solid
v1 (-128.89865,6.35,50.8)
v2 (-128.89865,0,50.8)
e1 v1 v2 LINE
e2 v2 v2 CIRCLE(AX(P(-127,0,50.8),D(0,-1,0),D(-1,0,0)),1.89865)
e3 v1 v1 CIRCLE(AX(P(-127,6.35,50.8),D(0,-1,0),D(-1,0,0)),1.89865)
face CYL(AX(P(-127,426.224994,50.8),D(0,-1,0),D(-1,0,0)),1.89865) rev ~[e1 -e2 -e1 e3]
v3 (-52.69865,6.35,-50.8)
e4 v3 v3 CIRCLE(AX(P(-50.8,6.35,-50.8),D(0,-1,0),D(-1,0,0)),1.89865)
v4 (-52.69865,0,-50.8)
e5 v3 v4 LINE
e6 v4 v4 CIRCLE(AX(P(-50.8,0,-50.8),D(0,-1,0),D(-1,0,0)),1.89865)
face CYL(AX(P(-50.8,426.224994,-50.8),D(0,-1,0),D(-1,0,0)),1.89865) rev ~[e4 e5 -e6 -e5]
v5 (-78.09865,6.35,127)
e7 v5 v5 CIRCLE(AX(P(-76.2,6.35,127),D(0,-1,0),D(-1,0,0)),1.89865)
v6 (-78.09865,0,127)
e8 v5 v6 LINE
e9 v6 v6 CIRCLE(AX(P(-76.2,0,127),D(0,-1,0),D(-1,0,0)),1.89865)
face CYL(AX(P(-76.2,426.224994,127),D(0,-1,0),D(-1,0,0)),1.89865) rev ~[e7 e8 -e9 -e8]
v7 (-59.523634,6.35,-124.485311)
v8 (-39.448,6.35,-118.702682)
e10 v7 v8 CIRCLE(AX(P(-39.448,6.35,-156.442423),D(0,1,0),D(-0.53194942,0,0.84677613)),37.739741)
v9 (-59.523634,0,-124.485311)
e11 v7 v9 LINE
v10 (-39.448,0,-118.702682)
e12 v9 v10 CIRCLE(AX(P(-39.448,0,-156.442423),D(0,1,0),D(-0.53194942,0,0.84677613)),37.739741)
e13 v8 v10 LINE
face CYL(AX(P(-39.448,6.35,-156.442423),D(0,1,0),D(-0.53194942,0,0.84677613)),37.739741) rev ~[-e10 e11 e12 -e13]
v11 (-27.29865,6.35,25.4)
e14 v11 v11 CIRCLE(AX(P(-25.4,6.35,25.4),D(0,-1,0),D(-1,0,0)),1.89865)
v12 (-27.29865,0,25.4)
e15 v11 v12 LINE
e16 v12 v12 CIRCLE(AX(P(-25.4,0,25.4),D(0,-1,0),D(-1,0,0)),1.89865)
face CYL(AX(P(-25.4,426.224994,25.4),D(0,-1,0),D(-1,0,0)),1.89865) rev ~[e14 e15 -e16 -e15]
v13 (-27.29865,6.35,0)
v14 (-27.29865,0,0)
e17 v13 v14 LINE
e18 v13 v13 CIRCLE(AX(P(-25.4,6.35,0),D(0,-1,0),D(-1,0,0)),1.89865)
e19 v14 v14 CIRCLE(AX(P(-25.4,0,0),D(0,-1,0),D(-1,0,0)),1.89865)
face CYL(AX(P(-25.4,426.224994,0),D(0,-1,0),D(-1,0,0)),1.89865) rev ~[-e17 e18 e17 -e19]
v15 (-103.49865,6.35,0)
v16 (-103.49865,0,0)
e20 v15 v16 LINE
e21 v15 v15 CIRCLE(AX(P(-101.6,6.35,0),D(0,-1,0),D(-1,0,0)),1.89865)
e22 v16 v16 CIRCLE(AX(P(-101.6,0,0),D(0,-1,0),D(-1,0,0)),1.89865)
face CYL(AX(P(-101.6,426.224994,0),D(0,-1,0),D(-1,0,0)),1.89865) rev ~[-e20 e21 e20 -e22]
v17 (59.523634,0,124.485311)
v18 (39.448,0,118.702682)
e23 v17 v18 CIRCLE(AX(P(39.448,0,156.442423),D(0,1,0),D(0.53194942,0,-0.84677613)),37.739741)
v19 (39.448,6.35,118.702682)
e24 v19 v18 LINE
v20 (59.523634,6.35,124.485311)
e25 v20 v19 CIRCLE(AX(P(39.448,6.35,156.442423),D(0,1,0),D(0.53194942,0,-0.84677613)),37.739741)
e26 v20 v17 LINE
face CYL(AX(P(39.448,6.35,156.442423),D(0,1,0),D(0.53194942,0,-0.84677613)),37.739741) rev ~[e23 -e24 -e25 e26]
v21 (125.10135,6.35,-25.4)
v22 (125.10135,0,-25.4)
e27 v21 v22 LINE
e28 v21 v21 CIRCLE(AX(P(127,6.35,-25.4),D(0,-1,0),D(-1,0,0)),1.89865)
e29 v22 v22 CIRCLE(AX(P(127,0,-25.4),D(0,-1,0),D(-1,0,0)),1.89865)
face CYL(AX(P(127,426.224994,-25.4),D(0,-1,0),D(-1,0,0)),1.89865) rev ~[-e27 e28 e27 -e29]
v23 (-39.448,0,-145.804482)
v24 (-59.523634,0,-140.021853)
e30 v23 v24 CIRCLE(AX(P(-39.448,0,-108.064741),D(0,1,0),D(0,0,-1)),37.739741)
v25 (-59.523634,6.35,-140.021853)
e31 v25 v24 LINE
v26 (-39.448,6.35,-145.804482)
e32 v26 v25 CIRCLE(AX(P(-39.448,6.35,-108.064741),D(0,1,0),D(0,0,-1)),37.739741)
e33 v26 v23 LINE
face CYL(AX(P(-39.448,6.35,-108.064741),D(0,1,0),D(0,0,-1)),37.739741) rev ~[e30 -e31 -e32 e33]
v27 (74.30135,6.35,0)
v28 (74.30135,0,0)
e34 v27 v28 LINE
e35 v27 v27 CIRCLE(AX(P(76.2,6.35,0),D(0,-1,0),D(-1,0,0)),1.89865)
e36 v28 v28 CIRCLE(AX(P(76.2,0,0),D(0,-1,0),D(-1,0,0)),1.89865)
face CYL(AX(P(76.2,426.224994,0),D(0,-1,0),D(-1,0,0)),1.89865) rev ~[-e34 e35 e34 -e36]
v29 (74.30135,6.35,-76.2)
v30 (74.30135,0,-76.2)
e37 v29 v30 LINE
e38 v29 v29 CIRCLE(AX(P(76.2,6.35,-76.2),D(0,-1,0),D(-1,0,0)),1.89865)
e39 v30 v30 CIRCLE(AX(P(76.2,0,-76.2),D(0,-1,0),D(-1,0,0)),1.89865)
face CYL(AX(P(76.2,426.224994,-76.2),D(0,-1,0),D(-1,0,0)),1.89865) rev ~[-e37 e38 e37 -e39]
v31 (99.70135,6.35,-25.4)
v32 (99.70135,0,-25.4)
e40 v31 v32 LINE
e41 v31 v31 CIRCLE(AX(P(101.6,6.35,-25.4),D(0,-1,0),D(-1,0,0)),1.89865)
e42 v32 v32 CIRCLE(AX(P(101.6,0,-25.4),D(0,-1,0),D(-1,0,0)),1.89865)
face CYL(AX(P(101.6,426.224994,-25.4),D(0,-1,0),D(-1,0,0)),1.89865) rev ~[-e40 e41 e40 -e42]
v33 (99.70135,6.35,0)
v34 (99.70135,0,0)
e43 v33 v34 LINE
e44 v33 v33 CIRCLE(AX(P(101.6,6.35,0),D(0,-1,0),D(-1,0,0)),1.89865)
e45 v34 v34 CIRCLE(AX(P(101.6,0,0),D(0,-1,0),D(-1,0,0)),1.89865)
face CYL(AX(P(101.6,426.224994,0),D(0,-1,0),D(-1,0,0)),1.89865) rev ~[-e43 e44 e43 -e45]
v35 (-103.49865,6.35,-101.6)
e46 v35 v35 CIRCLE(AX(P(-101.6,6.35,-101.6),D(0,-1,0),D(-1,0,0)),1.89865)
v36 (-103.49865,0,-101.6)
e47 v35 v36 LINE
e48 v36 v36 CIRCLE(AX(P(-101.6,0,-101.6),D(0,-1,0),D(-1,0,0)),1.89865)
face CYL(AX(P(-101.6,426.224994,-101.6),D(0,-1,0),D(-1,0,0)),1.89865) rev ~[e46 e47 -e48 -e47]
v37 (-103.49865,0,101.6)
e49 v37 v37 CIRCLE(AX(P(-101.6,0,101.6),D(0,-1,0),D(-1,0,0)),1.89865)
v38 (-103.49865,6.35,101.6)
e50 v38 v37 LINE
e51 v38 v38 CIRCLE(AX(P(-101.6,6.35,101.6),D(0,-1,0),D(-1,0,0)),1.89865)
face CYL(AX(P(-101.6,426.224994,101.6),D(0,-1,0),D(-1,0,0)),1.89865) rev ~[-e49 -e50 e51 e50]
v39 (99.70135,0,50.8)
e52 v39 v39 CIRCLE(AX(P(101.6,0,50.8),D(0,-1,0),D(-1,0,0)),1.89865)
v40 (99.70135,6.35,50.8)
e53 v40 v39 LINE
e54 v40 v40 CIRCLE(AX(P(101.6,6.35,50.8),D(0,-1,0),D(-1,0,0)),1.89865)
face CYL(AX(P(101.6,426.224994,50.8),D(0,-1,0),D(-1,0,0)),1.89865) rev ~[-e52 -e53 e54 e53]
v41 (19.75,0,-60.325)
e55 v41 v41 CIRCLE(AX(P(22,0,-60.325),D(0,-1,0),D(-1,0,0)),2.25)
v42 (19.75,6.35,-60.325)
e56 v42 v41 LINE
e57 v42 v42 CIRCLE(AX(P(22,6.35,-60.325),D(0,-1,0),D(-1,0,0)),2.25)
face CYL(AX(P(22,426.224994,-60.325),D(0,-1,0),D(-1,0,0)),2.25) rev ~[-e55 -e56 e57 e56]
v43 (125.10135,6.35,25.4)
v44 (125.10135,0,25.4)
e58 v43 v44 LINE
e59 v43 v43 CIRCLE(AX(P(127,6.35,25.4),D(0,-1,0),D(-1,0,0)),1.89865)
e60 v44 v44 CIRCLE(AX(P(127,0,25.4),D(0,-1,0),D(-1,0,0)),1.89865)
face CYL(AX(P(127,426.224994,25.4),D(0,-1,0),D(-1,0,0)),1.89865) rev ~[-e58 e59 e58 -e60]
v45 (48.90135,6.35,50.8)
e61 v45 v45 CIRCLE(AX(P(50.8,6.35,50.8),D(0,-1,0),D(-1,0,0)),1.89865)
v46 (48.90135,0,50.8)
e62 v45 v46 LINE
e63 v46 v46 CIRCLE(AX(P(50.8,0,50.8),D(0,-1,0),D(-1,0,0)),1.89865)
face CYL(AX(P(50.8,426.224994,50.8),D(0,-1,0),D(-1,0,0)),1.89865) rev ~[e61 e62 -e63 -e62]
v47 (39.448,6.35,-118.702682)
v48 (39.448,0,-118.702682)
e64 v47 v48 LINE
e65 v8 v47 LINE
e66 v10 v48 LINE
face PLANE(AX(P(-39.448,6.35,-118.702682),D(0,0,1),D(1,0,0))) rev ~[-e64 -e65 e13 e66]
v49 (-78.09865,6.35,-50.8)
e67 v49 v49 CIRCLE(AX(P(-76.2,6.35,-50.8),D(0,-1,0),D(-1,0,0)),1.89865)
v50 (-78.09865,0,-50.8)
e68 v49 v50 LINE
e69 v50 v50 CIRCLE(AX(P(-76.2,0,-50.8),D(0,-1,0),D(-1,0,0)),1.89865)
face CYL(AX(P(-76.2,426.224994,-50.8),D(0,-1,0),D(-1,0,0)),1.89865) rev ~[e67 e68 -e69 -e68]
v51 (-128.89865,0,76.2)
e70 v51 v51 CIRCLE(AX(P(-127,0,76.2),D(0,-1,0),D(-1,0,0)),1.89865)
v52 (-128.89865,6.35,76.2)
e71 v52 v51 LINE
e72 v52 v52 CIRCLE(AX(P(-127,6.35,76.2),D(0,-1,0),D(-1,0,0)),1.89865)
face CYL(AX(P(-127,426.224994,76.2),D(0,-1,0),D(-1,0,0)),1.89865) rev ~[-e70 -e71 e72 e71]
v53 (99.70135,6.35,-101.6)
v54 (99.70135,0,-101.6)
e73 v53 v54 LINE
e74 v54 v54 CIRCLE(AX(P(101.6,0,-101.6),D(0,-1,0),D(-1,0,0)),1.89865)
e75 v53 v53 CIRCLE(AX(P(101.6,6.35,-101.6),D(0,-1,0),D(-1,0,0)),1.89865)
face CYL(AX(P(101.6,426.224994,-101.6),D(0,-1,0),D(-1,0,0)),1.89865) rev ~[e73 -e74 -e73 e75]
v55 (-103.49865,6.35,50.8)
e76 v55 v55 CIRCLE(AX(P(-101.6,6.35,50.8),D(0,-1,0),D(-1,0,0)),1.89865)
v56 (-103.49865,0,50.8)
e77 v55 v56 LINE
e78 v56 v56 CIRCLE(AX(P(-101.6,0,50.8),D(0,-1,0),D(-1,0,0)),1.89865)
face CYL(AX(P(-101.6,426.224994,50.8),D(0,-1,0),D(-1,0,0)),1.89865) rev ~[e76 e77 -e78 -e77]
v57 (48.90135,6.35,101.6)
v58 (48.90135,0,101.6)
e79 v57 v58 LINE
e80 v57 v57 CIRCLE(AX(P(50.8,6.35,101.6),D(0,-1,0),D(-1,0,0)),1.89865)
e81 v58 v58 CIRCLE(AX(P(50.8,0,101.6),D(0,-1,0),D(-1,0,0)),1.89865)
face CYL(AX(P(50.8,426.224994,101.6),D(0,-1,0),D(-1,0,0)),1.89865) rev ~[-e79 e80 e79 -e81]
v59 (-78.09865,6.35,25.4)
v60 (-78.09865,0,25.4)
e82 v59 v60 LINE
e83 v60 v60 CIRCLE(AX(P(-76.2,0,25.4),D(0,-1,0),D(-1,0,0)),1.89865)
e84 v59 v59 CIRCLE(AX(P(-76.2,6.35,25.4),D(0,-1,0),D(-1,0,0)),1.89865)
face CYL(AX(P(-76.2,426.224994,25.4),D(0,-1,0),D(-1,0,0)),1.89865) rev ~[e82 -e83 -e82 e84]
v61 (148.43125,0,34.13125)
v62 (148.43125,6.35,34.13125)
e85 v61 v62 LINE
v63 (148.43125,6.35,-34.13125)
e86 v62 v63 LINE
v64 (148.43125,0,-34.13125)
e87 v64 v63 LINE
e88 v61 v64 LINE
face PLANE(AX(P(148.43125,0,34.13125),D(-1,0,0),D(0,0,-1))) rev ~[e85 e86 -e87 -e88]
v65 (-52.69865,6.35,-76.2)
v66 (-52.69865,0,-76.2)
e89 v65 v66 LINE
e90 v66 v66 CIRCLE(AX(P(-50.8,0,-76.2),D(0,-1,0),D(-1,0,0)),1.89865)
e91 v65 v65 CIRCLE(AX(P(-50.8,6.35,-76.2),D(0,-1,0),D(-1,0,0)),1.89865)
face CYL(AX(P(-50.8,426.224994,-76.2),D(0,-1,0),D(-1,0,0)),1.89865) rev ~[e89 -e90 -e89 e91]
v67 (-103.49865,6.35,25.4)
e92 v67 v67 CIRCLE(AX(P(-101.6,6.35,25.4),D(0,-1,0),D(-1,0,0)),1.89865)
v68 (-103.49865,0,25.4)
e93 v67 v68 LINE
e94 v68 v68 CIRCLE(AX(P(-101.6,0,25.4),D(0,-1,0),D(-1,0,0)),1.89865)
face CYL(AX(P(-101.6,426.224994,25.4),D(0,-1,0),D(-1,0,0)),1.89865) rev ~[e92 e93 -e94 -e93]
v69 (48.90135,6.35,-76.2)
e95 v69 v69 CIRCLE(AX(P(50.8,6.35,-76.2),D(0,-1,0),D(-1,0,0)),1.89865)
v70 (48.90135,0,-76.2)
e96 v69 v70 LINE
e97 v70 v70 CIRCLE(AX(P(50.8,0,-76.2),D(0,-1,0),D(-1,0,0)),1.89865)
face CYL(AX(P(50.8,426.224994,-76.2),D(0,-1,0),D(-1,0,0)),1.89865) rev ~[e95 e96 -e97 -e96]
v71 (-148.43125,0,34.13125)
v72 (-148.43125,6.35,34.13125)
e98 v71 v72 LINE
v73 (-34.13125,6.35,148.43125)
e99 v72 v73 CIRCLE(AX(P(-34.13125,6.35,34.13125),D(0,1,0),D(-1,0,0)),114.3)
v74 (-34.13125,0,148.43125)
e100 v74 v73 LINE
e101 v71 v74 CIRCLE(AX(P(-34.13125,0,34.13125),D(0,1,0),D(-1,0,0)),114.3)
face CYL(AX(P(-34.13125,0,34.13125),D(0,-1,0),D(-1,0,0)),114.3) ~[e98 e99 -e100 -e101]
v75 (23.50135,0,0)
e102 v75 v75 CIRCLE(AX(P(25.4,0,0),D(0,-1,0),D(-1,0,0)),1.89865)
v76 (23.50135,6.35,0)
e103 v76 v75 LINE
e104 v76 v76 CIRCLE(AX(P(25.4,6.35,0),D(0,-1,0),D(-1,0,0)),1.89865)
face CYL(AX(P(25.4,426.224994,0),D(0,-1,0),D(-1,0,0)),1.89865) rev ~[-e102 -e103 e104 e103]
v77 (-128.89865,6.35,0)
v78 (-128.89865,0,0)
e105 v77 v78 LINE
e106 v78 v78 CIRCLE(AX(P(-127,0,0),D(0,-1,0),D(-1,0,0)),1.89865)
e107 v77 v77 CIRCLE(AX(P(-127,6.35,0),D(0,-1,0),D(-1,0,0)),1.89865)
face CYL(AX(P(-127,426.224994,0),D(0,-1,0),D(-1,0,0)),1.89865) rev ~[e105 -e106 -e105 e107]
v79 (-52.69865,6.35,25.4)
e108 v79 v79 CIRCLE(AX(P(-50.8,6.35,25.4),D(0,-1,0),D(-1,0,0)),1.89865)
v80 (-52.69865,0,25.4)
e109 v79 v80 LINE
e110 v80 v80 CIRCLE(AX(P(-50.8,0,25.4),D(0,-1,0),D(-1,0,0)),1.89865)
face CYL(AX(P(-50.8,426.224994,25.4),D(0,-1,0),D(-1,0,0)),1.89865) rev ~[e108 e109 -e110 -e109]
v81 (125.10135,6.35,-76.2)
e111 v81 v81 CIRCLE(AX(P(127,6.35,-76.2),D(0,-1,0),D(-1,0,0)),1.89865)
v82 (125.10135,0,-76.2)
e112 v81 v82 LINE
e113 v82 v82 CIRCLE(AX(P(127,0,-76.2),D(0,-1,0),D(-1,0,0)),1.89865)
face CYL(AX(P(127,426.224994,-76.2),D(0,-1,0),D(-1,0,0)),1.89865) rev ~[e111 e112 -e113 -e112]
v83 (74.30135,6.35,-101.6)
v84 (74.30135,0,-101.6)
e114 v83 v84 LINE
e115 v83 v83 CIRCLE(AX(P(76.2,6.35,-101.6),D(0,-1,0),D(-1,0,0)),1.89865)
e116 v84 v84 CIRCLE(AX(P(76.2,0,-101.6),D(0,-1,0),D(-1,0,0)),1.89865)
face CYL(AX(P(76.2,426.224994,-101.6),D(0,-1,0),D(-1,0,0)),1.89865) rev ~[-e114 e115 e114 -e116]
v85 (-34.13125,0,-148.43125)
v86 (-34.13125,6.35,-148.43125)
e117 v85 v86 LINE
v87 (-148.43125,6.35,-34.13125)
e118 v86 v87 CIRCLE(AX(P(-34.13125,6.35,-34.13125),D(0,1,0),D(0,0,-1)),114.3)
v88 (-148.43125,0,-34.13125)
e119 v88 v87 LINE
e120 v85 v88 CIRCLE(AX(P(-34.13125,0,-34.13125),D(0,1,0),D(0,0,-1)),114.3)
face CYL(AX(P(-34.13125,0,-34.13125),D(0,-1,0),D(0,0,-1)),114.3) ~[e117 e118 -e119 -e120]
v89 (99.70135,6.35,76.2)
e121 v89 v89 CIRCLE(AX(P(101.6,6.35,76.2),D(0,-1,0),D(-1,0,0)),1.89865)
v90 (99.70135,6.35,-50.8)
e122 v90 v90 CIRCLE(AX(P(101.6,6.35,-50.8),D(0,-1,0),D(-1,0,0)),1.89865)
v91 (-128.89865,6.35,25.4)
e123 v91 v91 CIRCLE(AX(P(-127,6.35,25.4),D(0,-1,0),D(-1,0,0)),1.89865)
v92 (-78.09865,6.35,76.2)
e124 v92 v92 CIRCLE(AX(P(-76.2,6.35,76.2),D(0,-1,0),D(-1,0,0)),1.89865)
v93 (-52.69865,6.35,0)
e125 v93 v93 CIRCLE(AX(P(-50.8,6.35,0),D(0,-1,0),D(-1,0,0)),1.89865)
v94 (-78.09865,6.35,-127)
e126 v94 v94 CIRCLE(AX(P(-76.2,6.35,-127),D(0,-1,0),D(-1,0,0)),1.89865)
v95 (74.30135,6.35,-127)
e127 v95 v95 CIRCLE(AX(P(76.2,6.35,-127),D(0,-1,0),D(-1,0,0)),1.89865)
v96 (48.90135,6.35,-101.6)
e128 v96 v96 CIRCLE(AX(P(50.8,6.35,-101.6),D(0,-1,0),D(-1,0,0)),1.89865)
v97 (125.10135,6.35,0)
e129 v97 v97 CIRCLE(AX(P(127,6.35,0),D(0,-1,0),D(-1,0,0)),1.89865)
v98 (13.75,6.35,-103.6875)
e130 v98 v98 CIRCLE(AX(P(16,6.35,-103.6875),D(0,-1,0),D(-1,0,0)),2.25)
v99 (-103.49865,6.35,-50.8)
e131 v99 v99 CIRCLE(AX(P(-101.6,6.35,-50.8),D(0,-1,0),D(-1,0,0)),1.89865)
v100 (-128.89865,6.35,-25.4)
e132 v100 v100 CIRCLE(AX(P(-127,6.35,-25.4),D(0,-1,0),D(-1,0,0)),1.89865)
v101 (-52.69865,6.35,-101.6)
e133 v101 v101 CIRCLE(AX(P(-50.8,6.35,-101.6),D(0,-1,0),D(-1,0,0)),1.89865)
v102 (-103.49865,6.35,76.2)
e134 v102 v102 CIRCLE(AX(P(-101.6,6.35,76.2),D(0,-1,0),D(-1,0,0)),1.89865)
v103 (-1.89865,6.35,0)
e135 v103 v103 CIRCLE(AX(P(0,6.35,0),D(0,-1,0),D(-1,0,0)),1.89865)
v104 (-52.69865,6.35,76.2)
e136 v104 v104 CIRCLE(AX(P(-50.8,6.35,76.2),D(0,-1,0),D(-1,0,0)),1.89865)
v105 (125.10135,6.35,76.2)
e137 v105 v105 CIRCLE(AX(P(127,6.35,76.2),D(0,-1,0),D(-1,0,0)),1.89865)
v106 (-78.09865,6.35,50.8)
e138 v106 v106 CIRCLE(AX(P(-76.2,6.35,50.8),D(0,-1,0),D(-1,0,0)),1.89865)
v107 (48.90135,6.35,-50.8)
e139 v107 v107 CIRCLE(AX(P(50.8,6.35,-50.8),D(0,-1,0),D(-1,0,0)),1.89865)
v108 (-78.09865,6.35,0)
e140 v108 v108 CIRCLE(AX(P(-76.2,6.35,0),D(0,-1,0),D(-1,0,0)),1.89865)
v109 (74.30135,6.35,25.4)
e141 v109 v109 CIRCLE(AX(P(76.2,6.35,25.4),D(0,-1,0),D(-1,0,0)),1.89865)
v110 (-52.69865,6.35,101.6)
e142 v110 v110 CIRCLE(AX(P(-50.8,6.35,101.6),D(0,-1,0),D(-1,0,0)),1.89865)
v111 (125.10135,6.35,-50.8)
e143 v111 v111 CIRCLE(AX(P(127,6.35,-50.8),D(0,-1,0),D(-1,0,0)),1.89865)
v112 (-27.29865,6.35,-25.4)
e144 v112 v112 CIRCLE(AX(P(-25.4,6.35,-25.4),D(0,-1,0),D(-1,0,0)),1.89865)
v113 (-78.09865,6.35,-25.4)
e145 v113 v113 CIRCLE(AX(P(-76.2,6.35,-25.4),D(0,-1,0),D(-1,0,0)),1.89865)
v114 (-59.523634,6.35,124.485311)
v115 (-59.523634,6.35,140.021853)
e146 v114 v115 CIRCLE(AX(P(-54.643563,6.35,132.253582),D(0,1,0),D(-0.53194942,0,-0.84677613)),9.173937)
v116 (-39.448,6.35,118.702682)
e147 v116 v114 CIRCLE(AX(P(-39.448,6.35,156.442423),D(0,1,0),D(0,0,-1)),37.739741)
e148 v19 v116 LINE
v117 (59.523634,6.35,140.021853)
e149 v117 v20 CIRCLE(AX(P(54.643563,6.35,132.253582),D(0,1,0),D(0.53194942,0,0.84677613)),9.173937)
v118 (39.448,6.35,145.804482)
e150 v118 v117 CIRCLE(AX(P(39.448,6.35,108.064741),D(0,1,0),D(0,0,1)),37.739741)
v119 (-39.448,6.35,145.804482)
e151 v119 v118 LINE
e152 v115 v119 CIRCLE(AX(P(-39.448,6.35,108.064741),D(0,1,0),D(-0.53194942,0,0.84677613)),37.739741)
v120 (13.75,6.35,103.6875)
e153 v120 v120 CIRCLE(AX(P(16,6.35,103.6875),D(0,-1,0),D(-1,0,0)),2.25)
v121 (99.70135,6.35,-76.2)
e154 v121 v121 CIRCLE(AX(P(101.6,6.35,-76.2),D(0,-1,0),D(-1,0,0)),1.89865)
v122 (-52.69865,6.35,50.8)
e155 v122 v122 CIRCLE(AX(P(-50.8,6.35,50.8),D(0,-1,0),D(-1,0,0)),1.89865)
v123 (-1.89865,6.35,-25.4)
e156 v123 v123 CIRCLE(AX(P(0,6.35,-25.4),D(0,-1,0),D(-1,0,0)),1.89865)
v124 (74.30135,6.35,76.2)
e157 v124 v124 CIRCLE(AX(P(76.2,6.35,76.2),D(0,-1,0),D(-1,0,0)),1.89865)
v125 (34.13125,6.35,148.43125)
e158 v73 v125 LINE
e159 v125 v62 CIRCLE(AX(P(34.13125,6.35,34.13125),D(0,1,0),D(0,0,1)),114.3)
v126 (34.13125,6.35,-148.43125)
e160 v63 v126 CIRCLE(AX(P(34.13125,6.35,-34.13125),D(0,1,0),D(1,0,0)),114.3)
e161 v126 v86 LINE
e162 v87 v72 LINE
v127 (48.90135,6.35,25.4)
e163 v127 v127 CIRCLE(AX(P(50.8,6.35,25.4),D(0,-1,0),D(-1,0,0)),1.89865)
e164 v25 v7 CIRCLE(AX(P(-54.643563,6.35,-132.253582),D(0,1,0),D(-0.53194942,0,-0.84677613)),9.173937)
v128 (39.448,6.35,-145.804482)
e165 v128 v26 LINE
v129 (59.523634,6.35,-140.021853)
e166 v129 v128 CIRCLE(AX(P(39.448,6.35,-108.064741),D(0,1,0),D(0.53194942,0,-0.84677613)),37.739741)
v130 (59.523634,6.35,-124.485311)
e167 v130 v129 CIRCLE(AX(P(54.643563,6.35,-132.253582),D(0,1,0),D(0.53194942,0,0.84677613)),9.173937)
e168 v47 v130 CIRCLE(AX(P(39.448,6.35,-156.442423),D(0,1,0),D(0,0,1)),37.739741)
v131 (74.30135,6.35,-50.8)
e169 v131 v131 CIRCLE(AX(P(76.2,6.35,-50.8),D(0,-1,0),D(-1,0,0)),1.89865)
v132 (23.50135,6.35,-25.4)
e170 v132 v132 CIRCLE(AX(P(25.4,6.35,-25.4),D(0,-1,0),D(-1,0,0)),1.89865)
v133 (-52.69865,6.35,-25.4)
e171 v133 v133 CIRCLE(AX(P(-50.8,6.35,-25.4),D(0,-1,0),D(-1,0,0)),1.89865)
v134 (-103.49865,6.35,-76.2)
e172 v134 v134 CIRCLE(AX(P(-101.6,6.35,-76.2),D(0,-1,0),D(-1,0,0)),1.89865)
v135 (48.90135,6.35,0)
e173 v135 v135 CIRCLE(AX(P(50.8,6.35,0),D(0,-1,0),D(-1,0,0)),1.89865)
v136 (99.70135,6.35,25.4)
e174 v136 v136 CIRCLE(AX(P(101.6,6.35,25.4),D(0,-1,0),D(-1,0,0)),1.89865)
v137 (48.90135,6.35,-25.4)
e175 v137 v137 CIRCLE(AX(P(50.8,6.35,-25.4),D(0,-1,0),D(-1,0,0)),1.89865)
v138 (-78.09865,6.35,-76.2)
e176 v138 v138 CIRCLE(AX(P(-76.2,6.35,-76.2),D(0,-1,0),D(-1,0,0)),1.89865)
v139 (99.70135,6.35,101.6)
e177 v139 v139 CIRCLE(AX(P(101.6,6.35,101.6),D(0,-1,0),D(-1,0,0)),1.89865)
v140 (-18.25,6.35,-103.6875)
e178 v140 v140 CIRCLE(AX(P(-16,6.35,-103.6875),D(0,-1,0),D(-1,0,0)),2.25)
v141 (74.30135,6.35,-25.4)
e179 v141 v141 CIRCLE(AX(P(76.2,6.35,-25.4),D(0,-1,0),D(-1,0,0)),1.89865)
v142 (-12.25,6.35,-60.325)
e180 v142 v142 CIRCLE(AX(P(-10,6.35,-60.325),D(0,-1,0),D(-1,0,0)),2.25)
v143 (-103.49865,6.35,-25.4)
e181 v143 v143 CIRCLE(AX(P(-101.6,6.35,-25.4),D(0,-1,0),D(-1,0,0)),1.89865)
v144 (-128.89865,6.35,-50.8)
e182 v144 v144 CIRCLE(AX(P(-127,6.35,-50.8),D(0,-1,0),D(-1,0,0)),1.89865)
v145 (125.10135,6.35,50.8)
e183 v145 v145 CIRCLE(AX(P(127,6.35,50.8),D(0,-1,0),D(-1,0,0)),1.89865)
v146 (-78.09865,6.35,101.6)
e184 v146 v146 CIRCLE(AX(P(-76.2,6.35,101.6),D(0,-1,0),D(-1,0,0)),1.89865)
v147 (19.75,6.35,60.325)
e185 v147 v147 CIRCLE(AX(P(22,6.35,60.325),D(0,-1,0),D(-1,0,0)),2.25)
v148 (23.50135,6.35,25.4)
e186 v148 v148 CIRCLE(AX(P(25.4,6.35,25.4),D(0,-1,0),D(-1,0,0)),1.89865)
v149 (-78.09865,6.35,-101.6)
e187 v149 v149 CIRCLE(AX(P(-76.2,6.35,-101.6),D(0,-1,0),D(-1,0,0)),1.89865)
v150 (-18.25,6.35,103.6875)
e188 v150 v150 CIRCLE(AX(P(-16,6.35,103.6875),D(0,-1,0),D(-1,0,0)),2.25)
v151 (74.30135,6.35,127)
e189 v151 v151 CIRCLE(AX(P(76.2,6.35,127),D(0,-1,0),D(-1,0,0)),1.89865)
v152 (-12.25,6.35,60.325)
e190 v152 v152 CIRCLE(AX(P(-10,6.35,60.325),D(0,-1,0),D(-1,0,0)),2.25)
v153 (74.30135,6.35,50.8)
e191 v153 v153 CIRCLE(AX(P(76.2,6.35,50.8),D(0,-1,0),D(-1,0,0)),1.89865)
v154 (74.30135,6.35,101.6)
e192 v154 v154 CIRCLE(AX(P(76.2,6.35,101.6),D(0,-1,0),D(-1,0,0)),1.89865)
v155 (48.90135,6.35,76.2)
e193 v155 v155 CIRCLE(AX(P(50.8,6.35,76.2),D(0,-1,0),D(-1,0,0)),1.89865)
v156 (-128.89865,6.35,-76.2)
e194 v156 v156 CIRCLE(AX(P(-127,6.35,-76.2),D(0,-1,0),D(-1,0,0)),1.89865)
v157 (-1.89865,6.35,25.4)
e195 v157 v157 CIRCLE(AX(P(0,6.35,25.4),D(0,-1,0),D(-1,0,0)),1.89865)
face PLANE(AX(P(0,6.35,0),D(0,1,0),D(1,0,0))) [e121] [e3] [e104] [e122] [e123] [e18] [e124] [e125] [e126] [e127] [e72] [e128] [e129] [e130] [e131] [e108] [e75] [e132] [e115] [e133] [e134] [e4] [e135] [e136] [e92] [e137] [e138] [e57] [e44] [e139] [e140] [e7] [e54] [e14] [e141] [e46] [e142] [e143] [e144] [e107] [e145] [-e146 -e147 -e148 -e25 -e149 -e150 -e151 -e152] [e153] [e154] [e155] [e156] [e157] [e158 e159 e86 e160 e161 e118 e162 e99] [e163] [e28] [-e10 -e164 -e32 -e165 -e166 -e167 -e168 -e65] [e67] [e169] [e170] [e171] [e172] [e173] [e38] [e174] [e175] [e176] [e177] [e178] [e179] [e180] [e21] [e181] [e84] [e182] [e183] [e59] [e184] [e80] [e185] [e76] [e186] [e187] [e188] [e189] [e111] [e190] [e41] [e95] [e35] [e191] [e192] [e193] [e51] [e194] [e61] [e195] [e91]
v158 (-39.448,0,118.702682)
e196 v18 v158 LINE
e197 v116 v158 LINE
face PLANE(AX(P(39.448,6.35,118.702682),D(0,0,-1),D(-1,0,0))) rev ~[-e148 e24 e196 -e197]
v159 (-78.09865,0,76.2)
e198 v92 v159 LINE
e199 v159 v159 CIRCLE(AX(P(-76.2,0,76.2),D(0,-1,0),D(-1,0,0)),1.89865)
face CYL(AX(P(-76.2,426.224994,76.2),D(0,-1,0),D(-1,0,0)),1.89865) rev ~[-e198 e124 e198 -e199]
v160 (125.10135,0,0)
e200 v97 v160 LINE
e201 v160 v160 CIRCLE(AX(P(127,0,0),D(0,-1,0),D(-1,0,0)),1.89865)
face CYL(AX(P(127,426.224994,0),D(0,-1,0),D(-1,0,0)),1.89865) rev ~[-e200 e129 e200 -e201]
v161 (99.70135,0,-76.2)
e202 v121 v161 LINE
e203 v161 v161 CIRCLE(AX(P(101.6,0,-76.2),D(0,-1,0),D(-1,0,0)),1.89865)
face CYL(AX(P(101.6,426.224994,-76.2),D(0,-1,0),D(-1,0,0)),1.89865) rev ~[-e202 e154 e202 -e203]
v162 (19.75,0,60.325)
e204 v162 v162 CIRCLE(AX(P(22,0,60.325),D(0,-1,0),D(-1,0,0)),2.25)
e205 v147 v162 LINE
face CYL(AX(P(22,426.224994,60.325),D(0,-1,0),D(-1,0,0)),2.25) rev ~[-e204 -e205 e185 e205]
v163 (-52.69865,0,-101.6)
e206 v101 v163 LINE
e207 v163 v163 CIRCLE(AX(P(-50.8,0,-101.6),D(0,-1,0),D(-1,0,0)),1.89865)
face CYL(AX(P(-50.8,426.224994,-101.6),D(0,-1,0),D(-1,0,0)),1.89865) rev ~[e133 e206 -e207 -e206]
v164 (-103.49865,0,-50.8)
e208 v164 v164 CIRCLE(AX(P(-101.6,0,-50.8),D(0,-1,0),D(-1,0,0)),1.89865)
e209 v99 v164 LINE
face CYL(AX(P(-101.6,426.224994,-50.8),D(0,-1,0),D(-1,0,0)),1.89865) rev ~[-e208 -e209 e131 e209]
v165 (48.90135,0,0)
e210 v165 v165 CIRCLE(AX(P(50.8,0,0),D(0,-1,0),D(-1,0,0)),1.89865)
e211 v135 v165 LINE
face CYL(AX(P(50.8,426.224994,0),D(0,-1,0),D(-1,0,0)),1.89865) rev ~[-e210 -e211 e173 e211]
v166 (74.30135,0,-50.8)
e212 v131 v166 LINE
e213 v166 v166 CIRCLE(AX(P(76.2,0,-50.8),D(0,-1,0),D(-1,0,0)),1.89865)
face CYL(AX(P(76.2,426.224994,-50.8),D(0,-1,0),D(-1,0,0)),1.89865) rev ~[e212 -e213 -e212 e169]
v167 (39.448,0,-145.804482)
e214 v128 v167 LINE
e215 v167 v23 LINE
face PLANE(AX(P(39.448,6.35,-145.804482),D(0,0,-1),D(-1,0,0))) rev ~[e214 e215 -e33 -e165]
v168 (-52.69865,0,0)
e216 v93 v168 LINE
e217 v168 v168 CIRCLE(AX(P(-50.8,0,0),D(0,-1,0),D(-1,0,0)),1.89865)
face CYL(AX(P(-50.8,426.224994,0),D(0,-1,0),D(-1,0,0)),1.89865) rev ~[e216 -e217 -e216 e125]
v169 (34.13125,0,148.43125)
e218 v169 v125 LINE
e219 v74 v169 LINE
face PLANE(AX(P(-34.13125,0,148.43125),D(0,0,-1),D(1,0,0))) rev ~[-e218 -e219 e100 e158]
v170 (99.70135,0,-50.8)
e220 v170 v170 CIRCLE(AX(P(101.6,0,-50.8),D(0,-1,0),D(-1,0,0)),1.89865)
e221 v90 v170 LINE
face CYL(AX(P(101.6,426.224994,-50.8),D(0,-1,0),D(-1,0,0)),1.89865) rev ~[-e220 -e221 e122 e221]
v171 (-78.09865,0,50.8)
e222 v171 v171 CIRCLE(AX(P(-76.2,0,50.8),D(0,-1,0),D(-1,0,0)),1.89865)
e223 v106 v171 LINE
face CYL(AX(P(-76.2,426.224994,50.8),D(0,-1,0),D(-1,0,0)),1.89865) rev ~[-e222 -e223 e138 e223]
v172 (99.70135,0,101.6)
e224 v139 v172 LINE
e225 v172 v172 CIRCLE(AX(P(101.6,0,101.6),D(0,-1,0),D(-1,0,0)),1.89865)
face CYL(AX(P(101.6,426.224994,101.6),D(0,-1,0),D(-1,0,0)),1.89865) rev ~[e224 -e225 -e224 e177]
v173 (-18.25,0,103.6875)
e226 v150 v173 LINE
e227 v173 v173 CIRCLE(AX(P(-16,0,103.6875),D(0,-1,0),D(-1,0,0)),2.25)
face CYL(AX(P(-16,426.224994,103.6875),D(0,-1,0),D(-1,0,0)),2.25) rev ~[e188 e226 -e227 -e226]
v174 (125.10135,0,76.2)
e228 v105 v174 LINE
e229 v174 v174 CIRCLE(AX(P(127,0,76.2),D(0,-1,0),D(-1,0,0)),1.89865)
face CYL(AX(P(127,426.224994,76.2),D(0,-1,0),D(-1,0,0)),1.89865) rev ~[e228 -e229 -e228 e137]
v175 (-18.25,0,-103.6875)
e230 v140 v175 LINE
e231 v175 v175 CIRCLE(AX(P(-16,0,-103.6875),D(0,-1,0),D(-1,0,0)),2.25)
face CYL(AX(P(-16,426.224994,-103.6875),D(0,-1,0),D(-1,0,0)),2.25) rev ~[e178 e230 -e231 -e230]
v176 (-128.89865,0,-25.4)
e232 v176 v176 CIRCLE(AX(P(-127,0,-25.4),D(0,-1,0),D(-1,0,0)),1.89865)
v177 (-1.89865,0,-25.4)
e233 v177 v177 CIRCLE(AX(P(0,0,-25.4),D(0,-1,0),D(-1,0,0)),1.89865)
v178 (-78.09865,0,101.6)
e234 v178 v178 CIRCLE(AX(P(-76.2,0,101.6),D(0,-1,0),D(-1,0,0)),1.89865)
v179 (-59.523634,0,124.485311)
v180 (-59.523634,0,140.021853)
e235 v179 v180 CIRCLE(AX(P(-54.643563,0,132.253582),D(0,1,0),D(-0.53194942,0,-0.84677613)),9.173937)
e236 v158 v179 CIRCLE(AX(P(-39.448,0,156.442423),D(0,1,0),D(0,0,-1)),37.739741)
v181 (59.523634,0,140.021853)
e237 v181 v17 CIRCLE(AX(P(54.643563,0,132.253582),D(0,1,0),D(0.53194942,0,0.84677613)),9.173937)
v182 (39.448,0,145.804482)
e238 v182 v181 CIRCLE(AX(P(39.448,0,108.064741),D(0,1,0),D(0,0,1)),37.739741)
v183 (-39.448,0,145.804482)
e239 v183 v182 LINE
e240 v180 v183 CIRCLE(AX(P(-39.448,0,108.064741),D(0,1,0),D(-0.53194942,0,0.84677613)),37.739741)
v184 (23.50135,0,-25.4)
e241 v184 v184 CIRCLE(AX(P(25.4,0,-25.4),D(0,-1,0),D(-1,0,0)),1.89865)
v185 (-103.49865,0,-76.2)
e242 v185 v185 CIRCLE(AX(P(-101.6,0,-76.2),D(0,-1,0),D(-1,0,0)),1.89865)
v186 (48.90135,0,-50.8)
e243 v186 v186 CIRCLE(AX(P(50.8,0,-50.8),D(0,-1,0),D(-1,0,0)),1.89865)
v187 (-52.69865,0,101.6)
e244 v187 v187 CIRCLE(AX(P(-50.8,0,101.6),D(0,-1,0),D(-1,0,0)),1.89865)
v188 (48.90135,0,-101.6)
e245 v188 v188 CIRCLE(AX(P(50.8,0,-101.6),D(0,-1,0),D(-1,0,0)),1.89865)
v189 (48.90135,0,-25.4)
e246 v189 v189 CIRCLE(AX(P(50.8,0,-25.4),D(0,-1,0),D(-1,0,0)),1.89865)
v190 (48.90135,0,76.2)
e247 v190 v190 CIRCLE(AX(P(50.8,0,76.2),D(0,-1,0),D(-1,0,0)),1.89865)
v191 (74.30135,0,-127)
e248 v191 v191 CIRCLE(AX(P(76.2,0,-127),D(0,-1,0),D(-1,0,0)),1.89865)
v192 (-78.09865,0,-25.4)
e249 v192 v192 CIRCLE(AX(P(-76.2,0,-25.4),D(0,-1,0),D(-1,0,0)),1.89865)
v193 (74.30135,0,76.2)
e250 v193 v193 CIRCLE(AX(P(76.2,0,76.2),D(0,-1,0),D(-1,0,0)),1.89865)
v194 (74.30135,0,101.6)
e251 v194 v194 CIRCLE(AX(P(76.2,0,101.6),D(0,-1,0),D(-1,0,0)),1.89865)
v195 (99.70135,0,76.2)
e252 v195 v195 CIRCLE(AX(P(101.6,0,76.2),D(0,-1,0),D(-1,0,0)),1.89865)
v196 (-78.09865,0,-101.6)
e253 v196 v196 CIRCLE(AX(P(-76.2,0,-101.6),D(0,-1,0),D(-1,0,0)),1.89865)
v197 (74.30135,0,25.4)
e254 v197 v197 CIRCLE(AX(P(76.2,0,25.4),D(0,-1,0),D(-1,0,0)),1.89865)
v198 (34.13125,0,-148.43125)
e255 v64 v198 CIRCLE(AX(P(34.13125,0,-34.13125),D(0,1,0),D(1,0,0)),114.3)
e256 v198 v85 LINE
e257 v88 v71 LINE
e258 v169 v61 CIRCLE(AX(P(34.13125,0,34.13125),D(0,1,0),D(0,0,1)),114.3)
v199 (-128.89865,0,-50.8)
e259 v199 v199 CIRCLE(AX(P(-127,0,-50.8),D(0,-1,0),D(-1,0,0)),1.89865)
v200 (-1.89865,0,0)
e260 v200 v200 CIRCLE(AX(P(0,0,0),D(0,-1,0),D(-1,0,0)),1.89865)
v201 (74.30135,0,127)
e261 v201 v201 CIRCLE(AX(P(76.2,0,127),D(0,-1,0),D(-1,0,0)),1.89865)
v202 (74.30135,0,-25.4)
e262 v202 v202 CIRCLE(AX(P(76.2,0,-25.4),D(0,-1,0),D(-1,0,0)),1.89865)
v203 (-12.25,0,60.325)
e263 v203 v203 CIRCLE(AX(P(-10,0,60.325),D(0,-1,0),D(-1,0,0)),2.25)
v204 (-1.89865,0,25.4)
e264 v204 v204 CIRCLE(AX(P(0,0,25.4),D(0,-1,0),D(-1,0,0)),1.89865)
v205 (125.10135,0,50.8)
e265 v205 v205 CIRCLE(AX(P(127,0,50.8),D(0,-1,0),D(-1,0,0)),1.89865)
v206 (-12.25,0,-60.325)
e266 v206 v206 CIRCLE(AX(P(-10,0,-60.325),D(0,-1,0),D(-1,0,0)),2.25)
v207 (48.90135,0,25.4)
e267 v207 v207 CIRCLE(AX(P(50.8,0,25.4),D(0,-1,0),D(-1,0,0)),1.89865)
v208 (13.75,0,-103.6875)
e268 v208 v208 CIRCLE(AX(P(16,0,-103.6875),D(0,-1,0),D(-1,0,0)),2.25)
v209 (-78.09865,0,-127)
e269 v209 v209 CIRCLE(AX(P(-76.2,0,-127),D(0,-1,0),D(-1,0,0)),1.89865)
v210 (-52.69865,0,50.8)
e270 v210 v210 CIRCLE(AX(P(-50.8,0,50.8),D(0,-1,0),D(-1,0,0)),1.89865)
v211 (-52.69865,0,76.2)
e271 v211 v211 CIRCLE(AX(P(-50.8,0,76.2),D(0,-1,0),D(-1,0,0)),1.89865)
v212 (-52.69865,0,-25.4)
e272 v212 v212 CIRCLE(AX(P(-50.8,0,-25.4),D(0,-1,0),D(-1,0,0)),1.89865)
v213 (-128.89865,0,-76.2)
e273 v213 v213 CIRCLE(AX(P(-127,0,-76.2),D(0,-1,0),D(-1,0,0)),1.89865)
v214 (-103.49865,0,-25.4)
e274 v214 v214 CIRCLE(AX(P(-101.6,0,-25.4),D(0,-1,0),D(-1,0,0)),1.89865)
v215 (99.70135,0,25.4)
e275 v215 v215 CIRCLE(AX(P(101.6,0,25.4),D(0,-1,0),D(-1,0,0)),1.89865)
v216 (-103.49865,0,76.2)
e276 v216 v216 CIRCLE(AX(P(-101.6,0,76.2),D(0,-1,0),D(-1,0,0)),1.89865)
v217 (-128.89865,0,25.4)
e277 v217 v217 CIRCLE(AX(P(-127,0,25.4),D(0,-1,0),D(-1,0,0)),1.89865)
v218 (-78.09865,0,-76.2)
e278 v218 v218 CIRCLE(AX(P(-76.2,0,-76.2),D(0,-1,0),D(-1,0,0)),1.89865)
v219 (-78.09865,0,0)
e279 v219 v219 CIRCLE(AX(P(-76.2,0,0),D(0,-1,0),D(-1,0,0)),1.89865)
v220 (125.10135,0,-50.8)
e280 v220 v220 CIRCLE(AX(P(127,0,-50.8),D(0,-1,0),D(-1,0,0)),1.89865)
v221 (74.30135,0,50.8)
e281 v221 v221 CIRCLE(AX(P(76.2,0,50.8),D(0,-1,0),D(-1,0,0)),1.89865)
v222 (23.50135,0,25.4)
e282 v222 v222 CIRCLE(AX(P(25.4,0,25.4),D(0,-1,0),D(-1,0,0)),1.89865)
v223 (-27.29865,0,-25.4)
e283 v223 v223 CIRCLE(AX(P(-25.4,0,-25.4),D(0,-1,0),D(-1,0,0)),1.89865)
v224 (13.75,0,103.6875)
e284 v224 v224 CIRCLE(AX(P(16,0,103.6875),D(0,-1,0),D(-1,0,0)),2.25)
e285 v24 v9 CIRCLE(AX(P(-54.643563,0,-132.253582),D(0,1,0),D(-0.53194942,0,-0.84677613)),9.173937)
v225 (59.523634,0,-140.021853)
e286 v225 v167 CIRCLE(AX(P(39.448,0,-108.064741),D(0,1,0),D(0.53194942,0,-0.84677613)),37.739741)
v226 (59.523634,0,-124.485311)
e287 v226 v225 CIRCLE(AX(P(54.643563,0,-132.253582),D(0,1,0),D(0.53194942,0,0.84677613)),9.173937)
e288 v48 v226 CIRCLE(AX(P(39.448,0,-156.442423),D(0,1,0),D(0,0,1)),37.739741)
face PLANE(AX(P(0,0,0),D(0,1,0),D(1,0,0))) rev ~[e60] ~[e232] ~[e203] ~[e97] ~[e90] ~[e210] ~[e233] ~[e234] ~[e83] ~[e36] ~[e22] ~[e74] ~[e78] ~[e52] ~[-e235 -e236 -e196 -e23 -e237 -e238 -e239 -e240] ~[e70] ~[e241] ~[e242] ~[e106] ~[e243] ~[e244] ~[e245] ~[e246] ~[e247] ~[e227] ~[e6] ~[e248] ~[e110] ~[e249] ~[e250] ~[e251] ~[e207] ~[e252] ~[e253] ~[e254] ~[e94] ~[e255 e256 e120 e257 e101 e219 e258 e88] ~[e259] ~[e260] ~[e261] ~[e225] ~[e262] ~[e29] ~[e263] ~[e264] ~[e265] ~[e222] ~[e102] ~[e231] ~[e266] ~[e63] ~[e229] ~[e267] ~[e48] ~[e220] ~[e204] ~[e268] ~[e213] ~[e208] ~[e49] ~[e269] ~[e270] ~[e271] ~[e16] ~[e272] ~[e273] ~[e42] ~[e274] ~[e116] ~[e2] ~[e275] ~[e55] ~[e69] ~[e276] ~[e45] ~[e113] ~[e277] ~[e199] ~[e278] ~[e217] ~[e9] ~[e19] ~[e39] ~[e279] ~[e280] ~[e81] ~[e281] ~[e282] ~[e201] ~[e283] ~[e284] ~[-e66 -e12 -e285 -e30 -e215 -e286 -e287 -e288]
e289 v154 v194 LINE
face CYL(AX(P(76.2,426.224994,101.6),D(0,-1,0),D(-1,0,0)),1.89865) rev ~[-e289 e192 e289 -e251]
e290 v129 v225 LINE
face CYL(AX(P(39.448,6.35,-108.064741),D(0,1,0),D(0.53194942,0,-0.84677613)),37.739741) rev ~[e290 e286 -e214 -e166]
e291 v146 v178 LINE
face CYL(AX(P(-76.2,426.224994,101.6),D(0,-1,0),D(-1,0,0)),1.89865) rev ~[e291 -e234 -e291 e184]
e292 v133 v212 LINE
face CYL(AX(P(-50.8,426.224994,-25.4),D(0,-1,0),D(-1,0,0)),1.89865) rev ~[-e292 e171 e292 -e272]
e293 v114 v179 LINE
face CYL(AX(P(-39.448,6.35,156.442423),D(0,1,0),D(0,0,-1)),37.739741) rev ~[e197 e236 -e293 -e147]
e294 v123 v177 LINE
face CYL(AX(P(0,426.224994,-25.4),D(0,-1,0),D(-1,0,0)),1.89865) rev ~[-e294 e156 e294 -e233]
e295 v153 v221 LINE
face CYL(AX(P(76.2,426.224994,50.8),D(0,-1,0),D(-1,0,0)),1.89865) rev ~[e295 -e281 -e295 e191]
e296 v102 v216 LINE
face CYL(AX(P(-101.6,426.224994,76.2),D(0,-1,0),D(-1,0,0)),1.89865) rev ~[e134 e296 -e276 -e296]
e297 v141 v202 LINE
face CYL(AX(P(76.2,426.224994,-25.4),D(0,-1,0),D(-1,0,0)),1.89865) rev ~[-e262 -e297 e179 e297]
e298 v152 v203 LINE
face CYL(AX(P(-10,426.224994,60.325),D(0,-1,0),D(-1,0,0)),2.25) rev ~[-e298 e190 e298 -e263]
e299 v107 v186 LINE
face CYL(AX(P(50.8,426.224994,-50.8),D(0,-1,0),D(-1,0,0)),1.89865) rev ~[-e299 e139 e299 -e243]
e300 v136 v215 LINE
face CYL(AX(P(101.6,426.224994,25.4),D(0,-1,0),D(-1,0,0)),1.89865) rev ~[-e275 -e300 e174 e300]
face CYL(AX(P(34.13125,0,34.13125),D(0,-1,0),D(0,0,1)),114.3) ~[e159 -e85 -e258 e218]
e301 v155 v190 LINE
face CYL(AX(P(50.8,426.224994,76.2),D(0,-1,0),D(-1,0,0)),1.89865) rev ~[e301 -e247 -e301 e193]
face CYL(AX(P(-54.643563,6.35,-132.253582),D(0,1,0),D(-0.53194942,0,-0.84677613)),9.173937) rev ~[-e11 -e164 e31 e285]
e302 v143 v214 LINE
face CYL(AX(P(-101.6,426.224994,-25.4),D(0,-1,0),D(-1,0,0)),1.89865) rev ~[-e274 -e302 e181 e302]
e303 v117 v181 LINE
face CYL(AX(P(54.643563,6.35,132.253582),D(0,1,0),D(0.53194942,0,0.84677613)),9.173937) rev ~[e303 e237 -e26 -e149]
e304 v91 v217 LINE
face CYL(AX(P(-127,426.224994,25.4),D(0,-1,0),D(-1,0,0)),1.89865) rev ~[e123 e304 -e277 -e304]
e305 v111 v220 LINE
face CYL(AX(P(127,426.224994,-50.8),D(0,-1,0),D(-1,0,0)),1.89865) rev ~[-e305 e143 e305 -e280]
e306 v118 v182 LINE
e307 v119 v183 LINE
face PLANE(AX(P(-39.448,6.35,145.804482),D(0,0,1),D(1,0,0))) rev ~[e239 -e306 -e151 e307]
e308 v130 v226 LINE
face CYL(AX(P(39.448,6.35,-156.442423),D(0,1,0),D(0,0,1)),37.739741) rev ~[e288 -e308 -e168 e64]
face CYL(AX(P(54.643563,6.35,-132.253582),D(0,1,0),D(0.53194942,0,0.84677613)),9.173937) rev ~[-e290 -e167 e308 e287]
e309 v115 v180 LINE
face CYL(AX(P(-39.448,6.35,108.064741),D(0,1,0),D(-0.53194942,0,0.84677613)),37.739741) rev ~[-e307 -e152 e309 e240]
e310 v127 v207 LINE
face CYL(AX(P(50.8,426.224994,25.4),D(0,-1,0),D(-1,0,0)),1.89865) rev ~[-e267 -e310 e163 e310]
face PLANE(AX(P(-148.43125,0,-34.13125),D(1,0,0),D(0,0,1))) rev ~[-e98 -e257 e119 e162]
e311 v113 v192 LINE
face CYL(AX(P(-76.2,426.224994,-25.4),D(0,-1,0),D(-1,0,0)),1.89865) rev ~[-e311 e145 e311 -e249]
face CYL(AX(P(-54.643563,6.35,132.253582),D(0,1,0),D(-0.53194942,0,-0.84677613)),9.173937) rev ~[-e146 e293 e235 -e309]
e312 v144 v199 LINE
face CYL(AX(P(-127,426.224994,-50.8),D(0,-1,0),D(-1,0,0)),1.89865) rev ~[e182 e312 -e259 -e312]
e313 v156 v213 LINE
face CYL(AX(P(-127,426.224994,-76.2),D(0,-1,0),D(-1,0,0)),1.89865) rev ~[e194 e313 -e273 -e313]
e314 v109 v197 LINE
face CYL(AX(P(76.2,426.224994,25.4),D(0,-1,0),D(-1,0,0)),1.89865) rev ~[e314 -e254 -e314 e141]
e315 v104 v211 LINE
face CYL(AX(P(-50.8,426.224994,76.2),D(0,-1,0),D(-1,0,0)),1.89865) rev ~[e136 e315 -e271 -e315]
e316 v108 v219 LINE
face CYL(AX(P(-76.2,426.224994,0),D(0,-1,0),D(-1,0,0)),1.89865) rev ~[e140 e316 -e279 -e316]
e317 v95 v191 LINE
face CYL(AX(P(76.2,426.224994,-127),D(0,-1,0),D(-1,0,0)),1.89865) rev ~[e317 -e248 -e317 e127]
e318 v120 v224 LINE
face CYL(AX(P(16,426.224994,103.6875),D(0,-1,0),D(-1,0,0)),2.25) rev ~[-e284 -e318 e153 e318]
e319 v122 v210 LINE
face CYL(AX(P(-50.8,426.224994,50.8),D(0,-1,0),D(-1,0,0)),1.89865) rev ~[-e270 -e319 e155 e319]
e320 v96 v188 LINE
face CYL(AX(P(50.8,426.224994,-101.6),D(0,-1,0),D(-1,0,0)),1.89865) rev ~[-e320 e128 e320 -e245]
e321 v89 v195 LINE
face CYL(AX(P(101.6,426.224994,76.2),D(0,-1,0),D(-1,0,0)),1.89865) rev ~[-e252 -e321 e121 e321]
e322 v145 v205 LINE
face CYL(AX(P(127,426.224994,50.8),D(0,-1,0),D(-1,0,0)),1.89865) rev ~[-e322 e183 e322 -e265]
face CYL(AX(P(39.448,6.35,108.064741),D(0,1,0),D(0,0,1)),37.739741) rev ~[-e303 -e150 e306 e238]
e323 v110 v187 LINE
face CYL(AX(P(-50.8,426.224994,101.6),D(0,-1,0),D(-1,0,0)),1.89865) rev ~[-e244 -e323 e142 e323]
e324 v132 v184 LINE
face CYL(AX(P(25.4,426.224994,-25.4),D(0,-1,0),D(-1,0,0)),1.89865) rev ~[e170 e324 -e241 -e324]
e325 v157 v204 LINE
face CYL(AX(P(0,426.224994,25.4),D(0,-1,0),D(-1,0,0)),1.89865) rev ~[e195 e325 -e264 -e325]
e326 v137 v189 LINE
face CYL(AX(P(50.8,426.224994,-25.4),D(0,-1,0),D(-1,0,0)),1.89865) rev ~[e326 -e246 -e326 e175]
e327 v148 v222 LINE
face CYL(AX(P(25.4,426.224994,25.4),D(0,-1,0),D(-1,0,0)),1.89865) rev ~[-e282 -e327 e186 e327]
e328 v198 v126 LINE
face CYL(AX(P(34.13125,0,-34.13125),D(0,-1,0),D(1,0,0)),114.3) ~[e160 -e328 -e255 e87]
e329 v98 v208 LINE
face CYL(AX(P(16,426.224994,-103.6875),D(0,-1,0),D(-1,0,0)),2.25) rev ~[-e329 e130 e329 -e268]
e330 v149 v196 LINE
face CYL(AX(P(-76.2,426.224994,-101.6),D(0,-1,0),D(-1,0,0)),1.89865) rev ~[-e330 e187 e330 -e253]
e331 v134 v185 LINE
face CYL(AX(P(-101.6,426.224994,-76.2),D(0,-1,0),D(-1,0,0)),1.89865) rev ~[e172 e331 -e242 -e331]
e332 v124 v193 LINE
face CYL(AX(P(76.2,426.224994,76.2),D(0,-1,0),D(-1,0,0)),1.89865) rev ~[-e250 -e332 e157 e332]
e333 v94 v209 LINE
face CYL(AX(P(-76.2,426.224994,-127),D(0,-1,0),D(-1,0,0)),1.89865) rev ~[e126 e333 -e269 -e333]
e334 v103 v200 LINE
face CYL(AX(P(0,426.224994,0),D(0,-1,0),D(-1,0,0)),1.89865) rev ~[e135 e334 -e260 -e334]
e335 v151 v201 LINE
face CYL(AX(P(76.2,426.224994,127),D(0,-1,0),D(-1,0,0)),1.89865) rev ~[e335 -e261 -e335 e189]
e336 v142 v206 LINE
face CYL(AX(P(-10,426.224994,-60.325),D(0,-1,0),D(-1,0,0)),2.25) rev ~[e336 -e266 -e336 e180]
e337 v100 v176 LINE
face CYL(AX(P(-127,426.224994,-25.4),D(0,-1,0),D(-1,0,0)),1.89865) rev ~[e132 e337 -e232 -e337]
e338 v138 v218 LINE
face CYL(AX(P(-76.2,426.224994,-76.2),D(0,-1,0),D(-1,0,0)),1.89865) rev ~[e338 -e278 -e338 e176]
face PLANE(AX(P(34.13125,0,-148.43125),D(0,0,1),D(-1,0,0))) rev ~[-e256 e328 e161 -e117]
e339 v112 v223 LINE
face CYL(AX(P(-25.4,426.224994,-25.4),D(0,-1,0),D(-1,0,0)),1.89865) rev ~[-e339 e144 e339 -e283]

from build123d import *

# Parameters (mm, degrees)
BOSS_EXTRUDE1_DEPTH   = 6.35
CUT_EXTRUDE1_DEPTH    = 6.35
M4_CLEARANCE_HOLE1_D  = 4.5
F_6_CLEARANCE_HOLE1_D = 3.7973
F_6_CLEARANCE_HOLE2_D = 3.7973


with BuildPart() as part:
    # Sketch1 → Boss-Extrude1 (new body)
    with BuildSketch(Plane(origin=(0, 0, 0), x_dir=(1, 0, 0), z_dir=(0, 1, 0))):
        with BuildLine():
            Line((-34.13125, -148.43125), (34.13125, -148.43125))
            ThreePointArc((34.13125, -148.43125), (114.95355509, -114.95355509), (148.43125, -34.13125))
            Line((148.43125, -34.13125), (148.43125, 34.13125))
            ThreePointArc((148.43125, 34.13125), (114.95355509, 114.95355509), (34.13125, 148.43125))
            Line((34.13125, 148.43125), (-34.13125, 148.43125))
            ThreePointArc((-34.13125, 148.43125), (-114.95355509, 114.95355509), (-148.43125, 34.13125))
            Line((-148.43125, 34.13125), (-148.43125, -34.13125))
            ThreePointArc((-148.43125, -34.13125), (-114.95355509, -114.95355509), (-34.13125, -148.43125))
        make_face()
    extrude(amount=BOSS_EXTRUDE1_DEPTH)

    # Sketch4 → Cut-Extrude1 (cut)
    with BuildSketch(Plane(origin=(0, 6.35, 0), x_dir=(1, 0, 0), z_dir=(0, 1, 0))):
        with BuildLine():
            ThreePointArc((-39.448, 145.804481937), (-49.893930566, 144.330021666), (-59.523633513, 140.021852723))
            ThreePointArc((-59.523633513, 140.021852723), (-63.8175, 132.253581937), (-59.523633513, 124.485311151))
            ThreePointArc((-59.523633513, 124.485311151), (-49.893930566, 120.177142208), (-39.448, 118.702681937))
            Line((-39.448, 118.702681937), (39.448, 118.702681937))
            ThreePointArc((39.448, 118.702681937), (49.893930566, 120.177142208), (59.523633513, 124.485311151))
            ThreePointArc((59.523633513, 124.485311151), (63.8175, 132.253581937), (59.523633513, 140.021852723))
            ThreePointArc((59.523633513, 140.021852723), (49.893930566, 144.330021666), (39.448, 145.804481937))
            Line((39.448, 145.804481937), (-39.448, 145.804481937))
        make_face()
        with BuildLine():
            ThreePointArc((39.448, 120.290181937), (49.454528647, 121.702619905), (58.679163809, 125.829568258))
            ThreePointArc((58.679163809, 125.829568258), (62.23, 132.253581937), (58.679163809, 138.677595616))
            ThreePointArc((58.679163809, 138.677595616), (49.454528647, 142.804543969), (39.448, 144.216981937))
            Line((39.448, 144.216981937), (-39.448, 144.216981937))
            ThreePointArc((-39.448, 144.216981937), (-49.454528647, 142.804543969), (-58.679163809, 138.677595616))
            ThreePointArc((-58.679163809, 138.677595616), (-62.23, 132.253581937), (-58.679163809, 125.829568258))
            ThreePointArc((-58.679163809, 125.829568258), (-49.454528647, 121.702619905), (-39.448, 120.290181937))
            Line((-39.448, 120.290181937), (39.448, 120.290181937))
        make_face(mode=Mode.SUBTRACT)
        with BuildLine():
            Line((-39.448, 120.290181937), (39.448, 120.290181937))
            ThreePointArc((39.448, 120.290181937), (49.454528647, 121.702619905), (58.679163809, 125.829568258))
            ThreePointArc((58.679163809, 125.829568258), (62.23, 132.253581937), (58.679163809, 138.677595616))
            ThreePointArc((58.679163809, 138.677595616), (49.454528647, 142.804543969), (39.448, 144.216981937))
            Line((39.448, 144.216981937), (-39.448, 144.216981937))
            ThreePointArc((-39.448, 144.216981937), (-49.454528647, 142.804543969), (-58.679163809, 138.677595616))
            ThreePointArc((-58.679163809, 138.677595616), (-62.23, 132.253581937), (-58.679163809, 125.829568258))
            ThreePointArc((-58.679163809, 125.829568258), (-49.454528647, 121.702619905), (-39.448, 120.290181937))
        make_face()
        with BuildLine():
            ThreePointArc((-59.523633513, -124.485311151), (-63.8175, -132.253581937), (-59.523633513, -140.021852723))
            ThreePointArc((-59.523633513, -140.021852723), (-49.893930566, -144.330021666), (-39.448, -145.804481937))
            Line((-39.448, -145.804481937), (39.448, -145.804481937))
            ThreePointArc((39.448, -145.804481937), (49.893930566, -144.330021666), (59.523633513, -140.021852723))
            ThreePointArc((59.523633513, -140.021852723), (63.8175, -132.253581937), (59.523633513, -124.485311151))
            ThreePointArc((59.523633513, -124.485311151), (49.893930566, -120.177142208), (39.448, -118.702681937))
            Line((39.448, -118.702681937), (-39.448, -118.702681937))
            ThreePointArc((-39.448, -118.702681937), (-49.893930566, -120.177142208), (-59.523633513, -124.485311151))
        make_face()
        with BuildLine():
            ThreePointArc((-58.679163809, -138.677595616), (-49.454528647, -142.804543969), (-39.448, -144.216981937))
            Line((-39.448, -144.216981937), (39.448, -144.216981937))
            ThreePointArc((39.448, -144.216981937), (49.454528647, -142.804543969), (58.679163809, -138.677595616))
            ThreePointArc((58.679163809, -138.677595616), (62.23, -132.253581937), (58.679163809, -125.829568258))
            ThreePointArc((58.679163809, -125.829568258), (49.454528647, -121.702619905), (39.448, -120.290181937))
            Line((39.448, -120.290181937), (-39.448, -120.290181937))
            ThreePointArc((-39.448, -120.290181937), (-49.454528647, -121.702619905), (-58.679163809, -125.829568258))
            ThreePointArc((-58.679163809, -125.829568258), (-62.23, -132.253581937), (-58.679163809, -138.677595616))
        make_face(mode=Mode.SUBTRACT)
        with BuildLine():
            ThreePointArc((-58.679163809, -125.829568258), (-62.23, -132.253581937), (-58.679163809, -138.677595616))
            ThreePointArc((-58.679163809, -138.677595616), (-49.454528647, -142.804543969), (-39.448, -144.216981937))
            Line((-39.448, -144.216981937), (39.448, -144.216981937))
            ThreePointArc((39.448, -144.216981937), (49.454528647, -142.804543969), (58.679163809, -138.677595616))
            ThreePointArc((58.679163809, -138.677595616), (62.23, -132.253581937), (58.679163809, -125.829568258))
            ThreePointArc((58.679163809, -125.829568258), (49.454528647, -121.702619905), (39.448, -120.290181937))
            Line((39.448, -120.290181937), (-39.448, -120.290181937))
            ThreePointArc((-39.448, -120.290181937), (-49.454528647, -121.702619905), (-58.679163809, -125.829568258))
        make_face()
    extrude(amount=-CUT_EXTRUDE1_DEPTH, mode=Mode.SUBTRACT)

    # M4 Clearance Hole1 (through all)
    with Locations(Plane(origin=(0, 6.35, 0), x_dir=(1, 0, 0), z_dir=(0, 1, 0))):
        with Locations((-16, -103.6875), (16, -103.6875), (22, -60.325), (-10, -60.325), (-10, 60.325), (22, 60.325), (16, 103.6875), (-16, 103.6875)):
            Hole(M4_CLEARANCE_HOLE1_D / 2)

    # #6 Clearance Hole1 (through all)
    with Locations(Plane(origin=(0, 6.35, 0), x_dir=(1, 0, 0), z_dir=(0, 1, 0))):
        with Locations((-101.6, -101.6), (-101.6, 101.6), (101.6, 101.6), (101.6, -101.6), (-127, -76.2), (-127, -50.8), (-127, 50.8), (-127, 76.2), (-101.6, 76.2), (-101.6, 50.8), (-101.6, 25.4), (-101.6, 0), (-101.6, -25.4), (-101.6, -50.8), (-101.6, -76.2), (-76.2, -101.6), (-50.8, -101.6), (-50.8, -76.2), (-76.2, -76.2), (-76.2, -50.8), (-50.8, -50.8), (-50.8, -25.4), (-76.2, -25.4), (-76.2, 0), (-50.8, 0), (-50.8, 25.4), (-76.2, 25.4), (-76.2, 50.8), (-50.8, 50.8), (-50.8, 76.2), (-76.2, 76.2), (-76.2, 101.6), (-50.8, 101.6), (50.8, -101.6), (76.2, -101.6), (101.6, -76.2), (127, -76.2), (127, -50.8), (101.6, -25.4), (101.6, -50.8), (76.2, -25.4), (76.2, -50.8), (76.2, -76.2), (50.8, -76.2), (50.8, -50.8), (50.8, -25.4), (50.8, 0), (76.2, 0), (101.6, 0), (101.6, 25.4), (101.6, 50.8), (101.6, 76.2), (127, 50.8), (127, 76.2), (76.2, 101.6), (50.8, 101.6), (50.8, 76.2), (76.2, 76.2), (76.2, 50.8), (76.2, 25.4), (50.8, 25.4), (50.8, 50.8), (0, 0), (-25.4, -25.4), (-25.4, 0), (-25.4, 25.4), (0, 25.4), (25.4, 25.4), (25.4, 0), (25.4, -25.4), (0, -25.4), (127, -25.4), (127, 0), (127, 25.4), (-127, -25.4), (-127, 0), (-127, 25.4)):
            Hole(F_6_CLEARANCE_HOLE1_D / 2)

    # #6 Clearance Hole2 (through all)
    with Locations(Plane(origin=(0, 6.35, 0), x_dir=(1, 0, 0), z_dir=(0, 1, 0))):
        with Locations((-76.2, -127), (76.2, -127), (76.2, 127), (-76.2, 127)):
            Hole(F_6_CLEARANCE_HOLE2_D / 2)


solid = part.part
